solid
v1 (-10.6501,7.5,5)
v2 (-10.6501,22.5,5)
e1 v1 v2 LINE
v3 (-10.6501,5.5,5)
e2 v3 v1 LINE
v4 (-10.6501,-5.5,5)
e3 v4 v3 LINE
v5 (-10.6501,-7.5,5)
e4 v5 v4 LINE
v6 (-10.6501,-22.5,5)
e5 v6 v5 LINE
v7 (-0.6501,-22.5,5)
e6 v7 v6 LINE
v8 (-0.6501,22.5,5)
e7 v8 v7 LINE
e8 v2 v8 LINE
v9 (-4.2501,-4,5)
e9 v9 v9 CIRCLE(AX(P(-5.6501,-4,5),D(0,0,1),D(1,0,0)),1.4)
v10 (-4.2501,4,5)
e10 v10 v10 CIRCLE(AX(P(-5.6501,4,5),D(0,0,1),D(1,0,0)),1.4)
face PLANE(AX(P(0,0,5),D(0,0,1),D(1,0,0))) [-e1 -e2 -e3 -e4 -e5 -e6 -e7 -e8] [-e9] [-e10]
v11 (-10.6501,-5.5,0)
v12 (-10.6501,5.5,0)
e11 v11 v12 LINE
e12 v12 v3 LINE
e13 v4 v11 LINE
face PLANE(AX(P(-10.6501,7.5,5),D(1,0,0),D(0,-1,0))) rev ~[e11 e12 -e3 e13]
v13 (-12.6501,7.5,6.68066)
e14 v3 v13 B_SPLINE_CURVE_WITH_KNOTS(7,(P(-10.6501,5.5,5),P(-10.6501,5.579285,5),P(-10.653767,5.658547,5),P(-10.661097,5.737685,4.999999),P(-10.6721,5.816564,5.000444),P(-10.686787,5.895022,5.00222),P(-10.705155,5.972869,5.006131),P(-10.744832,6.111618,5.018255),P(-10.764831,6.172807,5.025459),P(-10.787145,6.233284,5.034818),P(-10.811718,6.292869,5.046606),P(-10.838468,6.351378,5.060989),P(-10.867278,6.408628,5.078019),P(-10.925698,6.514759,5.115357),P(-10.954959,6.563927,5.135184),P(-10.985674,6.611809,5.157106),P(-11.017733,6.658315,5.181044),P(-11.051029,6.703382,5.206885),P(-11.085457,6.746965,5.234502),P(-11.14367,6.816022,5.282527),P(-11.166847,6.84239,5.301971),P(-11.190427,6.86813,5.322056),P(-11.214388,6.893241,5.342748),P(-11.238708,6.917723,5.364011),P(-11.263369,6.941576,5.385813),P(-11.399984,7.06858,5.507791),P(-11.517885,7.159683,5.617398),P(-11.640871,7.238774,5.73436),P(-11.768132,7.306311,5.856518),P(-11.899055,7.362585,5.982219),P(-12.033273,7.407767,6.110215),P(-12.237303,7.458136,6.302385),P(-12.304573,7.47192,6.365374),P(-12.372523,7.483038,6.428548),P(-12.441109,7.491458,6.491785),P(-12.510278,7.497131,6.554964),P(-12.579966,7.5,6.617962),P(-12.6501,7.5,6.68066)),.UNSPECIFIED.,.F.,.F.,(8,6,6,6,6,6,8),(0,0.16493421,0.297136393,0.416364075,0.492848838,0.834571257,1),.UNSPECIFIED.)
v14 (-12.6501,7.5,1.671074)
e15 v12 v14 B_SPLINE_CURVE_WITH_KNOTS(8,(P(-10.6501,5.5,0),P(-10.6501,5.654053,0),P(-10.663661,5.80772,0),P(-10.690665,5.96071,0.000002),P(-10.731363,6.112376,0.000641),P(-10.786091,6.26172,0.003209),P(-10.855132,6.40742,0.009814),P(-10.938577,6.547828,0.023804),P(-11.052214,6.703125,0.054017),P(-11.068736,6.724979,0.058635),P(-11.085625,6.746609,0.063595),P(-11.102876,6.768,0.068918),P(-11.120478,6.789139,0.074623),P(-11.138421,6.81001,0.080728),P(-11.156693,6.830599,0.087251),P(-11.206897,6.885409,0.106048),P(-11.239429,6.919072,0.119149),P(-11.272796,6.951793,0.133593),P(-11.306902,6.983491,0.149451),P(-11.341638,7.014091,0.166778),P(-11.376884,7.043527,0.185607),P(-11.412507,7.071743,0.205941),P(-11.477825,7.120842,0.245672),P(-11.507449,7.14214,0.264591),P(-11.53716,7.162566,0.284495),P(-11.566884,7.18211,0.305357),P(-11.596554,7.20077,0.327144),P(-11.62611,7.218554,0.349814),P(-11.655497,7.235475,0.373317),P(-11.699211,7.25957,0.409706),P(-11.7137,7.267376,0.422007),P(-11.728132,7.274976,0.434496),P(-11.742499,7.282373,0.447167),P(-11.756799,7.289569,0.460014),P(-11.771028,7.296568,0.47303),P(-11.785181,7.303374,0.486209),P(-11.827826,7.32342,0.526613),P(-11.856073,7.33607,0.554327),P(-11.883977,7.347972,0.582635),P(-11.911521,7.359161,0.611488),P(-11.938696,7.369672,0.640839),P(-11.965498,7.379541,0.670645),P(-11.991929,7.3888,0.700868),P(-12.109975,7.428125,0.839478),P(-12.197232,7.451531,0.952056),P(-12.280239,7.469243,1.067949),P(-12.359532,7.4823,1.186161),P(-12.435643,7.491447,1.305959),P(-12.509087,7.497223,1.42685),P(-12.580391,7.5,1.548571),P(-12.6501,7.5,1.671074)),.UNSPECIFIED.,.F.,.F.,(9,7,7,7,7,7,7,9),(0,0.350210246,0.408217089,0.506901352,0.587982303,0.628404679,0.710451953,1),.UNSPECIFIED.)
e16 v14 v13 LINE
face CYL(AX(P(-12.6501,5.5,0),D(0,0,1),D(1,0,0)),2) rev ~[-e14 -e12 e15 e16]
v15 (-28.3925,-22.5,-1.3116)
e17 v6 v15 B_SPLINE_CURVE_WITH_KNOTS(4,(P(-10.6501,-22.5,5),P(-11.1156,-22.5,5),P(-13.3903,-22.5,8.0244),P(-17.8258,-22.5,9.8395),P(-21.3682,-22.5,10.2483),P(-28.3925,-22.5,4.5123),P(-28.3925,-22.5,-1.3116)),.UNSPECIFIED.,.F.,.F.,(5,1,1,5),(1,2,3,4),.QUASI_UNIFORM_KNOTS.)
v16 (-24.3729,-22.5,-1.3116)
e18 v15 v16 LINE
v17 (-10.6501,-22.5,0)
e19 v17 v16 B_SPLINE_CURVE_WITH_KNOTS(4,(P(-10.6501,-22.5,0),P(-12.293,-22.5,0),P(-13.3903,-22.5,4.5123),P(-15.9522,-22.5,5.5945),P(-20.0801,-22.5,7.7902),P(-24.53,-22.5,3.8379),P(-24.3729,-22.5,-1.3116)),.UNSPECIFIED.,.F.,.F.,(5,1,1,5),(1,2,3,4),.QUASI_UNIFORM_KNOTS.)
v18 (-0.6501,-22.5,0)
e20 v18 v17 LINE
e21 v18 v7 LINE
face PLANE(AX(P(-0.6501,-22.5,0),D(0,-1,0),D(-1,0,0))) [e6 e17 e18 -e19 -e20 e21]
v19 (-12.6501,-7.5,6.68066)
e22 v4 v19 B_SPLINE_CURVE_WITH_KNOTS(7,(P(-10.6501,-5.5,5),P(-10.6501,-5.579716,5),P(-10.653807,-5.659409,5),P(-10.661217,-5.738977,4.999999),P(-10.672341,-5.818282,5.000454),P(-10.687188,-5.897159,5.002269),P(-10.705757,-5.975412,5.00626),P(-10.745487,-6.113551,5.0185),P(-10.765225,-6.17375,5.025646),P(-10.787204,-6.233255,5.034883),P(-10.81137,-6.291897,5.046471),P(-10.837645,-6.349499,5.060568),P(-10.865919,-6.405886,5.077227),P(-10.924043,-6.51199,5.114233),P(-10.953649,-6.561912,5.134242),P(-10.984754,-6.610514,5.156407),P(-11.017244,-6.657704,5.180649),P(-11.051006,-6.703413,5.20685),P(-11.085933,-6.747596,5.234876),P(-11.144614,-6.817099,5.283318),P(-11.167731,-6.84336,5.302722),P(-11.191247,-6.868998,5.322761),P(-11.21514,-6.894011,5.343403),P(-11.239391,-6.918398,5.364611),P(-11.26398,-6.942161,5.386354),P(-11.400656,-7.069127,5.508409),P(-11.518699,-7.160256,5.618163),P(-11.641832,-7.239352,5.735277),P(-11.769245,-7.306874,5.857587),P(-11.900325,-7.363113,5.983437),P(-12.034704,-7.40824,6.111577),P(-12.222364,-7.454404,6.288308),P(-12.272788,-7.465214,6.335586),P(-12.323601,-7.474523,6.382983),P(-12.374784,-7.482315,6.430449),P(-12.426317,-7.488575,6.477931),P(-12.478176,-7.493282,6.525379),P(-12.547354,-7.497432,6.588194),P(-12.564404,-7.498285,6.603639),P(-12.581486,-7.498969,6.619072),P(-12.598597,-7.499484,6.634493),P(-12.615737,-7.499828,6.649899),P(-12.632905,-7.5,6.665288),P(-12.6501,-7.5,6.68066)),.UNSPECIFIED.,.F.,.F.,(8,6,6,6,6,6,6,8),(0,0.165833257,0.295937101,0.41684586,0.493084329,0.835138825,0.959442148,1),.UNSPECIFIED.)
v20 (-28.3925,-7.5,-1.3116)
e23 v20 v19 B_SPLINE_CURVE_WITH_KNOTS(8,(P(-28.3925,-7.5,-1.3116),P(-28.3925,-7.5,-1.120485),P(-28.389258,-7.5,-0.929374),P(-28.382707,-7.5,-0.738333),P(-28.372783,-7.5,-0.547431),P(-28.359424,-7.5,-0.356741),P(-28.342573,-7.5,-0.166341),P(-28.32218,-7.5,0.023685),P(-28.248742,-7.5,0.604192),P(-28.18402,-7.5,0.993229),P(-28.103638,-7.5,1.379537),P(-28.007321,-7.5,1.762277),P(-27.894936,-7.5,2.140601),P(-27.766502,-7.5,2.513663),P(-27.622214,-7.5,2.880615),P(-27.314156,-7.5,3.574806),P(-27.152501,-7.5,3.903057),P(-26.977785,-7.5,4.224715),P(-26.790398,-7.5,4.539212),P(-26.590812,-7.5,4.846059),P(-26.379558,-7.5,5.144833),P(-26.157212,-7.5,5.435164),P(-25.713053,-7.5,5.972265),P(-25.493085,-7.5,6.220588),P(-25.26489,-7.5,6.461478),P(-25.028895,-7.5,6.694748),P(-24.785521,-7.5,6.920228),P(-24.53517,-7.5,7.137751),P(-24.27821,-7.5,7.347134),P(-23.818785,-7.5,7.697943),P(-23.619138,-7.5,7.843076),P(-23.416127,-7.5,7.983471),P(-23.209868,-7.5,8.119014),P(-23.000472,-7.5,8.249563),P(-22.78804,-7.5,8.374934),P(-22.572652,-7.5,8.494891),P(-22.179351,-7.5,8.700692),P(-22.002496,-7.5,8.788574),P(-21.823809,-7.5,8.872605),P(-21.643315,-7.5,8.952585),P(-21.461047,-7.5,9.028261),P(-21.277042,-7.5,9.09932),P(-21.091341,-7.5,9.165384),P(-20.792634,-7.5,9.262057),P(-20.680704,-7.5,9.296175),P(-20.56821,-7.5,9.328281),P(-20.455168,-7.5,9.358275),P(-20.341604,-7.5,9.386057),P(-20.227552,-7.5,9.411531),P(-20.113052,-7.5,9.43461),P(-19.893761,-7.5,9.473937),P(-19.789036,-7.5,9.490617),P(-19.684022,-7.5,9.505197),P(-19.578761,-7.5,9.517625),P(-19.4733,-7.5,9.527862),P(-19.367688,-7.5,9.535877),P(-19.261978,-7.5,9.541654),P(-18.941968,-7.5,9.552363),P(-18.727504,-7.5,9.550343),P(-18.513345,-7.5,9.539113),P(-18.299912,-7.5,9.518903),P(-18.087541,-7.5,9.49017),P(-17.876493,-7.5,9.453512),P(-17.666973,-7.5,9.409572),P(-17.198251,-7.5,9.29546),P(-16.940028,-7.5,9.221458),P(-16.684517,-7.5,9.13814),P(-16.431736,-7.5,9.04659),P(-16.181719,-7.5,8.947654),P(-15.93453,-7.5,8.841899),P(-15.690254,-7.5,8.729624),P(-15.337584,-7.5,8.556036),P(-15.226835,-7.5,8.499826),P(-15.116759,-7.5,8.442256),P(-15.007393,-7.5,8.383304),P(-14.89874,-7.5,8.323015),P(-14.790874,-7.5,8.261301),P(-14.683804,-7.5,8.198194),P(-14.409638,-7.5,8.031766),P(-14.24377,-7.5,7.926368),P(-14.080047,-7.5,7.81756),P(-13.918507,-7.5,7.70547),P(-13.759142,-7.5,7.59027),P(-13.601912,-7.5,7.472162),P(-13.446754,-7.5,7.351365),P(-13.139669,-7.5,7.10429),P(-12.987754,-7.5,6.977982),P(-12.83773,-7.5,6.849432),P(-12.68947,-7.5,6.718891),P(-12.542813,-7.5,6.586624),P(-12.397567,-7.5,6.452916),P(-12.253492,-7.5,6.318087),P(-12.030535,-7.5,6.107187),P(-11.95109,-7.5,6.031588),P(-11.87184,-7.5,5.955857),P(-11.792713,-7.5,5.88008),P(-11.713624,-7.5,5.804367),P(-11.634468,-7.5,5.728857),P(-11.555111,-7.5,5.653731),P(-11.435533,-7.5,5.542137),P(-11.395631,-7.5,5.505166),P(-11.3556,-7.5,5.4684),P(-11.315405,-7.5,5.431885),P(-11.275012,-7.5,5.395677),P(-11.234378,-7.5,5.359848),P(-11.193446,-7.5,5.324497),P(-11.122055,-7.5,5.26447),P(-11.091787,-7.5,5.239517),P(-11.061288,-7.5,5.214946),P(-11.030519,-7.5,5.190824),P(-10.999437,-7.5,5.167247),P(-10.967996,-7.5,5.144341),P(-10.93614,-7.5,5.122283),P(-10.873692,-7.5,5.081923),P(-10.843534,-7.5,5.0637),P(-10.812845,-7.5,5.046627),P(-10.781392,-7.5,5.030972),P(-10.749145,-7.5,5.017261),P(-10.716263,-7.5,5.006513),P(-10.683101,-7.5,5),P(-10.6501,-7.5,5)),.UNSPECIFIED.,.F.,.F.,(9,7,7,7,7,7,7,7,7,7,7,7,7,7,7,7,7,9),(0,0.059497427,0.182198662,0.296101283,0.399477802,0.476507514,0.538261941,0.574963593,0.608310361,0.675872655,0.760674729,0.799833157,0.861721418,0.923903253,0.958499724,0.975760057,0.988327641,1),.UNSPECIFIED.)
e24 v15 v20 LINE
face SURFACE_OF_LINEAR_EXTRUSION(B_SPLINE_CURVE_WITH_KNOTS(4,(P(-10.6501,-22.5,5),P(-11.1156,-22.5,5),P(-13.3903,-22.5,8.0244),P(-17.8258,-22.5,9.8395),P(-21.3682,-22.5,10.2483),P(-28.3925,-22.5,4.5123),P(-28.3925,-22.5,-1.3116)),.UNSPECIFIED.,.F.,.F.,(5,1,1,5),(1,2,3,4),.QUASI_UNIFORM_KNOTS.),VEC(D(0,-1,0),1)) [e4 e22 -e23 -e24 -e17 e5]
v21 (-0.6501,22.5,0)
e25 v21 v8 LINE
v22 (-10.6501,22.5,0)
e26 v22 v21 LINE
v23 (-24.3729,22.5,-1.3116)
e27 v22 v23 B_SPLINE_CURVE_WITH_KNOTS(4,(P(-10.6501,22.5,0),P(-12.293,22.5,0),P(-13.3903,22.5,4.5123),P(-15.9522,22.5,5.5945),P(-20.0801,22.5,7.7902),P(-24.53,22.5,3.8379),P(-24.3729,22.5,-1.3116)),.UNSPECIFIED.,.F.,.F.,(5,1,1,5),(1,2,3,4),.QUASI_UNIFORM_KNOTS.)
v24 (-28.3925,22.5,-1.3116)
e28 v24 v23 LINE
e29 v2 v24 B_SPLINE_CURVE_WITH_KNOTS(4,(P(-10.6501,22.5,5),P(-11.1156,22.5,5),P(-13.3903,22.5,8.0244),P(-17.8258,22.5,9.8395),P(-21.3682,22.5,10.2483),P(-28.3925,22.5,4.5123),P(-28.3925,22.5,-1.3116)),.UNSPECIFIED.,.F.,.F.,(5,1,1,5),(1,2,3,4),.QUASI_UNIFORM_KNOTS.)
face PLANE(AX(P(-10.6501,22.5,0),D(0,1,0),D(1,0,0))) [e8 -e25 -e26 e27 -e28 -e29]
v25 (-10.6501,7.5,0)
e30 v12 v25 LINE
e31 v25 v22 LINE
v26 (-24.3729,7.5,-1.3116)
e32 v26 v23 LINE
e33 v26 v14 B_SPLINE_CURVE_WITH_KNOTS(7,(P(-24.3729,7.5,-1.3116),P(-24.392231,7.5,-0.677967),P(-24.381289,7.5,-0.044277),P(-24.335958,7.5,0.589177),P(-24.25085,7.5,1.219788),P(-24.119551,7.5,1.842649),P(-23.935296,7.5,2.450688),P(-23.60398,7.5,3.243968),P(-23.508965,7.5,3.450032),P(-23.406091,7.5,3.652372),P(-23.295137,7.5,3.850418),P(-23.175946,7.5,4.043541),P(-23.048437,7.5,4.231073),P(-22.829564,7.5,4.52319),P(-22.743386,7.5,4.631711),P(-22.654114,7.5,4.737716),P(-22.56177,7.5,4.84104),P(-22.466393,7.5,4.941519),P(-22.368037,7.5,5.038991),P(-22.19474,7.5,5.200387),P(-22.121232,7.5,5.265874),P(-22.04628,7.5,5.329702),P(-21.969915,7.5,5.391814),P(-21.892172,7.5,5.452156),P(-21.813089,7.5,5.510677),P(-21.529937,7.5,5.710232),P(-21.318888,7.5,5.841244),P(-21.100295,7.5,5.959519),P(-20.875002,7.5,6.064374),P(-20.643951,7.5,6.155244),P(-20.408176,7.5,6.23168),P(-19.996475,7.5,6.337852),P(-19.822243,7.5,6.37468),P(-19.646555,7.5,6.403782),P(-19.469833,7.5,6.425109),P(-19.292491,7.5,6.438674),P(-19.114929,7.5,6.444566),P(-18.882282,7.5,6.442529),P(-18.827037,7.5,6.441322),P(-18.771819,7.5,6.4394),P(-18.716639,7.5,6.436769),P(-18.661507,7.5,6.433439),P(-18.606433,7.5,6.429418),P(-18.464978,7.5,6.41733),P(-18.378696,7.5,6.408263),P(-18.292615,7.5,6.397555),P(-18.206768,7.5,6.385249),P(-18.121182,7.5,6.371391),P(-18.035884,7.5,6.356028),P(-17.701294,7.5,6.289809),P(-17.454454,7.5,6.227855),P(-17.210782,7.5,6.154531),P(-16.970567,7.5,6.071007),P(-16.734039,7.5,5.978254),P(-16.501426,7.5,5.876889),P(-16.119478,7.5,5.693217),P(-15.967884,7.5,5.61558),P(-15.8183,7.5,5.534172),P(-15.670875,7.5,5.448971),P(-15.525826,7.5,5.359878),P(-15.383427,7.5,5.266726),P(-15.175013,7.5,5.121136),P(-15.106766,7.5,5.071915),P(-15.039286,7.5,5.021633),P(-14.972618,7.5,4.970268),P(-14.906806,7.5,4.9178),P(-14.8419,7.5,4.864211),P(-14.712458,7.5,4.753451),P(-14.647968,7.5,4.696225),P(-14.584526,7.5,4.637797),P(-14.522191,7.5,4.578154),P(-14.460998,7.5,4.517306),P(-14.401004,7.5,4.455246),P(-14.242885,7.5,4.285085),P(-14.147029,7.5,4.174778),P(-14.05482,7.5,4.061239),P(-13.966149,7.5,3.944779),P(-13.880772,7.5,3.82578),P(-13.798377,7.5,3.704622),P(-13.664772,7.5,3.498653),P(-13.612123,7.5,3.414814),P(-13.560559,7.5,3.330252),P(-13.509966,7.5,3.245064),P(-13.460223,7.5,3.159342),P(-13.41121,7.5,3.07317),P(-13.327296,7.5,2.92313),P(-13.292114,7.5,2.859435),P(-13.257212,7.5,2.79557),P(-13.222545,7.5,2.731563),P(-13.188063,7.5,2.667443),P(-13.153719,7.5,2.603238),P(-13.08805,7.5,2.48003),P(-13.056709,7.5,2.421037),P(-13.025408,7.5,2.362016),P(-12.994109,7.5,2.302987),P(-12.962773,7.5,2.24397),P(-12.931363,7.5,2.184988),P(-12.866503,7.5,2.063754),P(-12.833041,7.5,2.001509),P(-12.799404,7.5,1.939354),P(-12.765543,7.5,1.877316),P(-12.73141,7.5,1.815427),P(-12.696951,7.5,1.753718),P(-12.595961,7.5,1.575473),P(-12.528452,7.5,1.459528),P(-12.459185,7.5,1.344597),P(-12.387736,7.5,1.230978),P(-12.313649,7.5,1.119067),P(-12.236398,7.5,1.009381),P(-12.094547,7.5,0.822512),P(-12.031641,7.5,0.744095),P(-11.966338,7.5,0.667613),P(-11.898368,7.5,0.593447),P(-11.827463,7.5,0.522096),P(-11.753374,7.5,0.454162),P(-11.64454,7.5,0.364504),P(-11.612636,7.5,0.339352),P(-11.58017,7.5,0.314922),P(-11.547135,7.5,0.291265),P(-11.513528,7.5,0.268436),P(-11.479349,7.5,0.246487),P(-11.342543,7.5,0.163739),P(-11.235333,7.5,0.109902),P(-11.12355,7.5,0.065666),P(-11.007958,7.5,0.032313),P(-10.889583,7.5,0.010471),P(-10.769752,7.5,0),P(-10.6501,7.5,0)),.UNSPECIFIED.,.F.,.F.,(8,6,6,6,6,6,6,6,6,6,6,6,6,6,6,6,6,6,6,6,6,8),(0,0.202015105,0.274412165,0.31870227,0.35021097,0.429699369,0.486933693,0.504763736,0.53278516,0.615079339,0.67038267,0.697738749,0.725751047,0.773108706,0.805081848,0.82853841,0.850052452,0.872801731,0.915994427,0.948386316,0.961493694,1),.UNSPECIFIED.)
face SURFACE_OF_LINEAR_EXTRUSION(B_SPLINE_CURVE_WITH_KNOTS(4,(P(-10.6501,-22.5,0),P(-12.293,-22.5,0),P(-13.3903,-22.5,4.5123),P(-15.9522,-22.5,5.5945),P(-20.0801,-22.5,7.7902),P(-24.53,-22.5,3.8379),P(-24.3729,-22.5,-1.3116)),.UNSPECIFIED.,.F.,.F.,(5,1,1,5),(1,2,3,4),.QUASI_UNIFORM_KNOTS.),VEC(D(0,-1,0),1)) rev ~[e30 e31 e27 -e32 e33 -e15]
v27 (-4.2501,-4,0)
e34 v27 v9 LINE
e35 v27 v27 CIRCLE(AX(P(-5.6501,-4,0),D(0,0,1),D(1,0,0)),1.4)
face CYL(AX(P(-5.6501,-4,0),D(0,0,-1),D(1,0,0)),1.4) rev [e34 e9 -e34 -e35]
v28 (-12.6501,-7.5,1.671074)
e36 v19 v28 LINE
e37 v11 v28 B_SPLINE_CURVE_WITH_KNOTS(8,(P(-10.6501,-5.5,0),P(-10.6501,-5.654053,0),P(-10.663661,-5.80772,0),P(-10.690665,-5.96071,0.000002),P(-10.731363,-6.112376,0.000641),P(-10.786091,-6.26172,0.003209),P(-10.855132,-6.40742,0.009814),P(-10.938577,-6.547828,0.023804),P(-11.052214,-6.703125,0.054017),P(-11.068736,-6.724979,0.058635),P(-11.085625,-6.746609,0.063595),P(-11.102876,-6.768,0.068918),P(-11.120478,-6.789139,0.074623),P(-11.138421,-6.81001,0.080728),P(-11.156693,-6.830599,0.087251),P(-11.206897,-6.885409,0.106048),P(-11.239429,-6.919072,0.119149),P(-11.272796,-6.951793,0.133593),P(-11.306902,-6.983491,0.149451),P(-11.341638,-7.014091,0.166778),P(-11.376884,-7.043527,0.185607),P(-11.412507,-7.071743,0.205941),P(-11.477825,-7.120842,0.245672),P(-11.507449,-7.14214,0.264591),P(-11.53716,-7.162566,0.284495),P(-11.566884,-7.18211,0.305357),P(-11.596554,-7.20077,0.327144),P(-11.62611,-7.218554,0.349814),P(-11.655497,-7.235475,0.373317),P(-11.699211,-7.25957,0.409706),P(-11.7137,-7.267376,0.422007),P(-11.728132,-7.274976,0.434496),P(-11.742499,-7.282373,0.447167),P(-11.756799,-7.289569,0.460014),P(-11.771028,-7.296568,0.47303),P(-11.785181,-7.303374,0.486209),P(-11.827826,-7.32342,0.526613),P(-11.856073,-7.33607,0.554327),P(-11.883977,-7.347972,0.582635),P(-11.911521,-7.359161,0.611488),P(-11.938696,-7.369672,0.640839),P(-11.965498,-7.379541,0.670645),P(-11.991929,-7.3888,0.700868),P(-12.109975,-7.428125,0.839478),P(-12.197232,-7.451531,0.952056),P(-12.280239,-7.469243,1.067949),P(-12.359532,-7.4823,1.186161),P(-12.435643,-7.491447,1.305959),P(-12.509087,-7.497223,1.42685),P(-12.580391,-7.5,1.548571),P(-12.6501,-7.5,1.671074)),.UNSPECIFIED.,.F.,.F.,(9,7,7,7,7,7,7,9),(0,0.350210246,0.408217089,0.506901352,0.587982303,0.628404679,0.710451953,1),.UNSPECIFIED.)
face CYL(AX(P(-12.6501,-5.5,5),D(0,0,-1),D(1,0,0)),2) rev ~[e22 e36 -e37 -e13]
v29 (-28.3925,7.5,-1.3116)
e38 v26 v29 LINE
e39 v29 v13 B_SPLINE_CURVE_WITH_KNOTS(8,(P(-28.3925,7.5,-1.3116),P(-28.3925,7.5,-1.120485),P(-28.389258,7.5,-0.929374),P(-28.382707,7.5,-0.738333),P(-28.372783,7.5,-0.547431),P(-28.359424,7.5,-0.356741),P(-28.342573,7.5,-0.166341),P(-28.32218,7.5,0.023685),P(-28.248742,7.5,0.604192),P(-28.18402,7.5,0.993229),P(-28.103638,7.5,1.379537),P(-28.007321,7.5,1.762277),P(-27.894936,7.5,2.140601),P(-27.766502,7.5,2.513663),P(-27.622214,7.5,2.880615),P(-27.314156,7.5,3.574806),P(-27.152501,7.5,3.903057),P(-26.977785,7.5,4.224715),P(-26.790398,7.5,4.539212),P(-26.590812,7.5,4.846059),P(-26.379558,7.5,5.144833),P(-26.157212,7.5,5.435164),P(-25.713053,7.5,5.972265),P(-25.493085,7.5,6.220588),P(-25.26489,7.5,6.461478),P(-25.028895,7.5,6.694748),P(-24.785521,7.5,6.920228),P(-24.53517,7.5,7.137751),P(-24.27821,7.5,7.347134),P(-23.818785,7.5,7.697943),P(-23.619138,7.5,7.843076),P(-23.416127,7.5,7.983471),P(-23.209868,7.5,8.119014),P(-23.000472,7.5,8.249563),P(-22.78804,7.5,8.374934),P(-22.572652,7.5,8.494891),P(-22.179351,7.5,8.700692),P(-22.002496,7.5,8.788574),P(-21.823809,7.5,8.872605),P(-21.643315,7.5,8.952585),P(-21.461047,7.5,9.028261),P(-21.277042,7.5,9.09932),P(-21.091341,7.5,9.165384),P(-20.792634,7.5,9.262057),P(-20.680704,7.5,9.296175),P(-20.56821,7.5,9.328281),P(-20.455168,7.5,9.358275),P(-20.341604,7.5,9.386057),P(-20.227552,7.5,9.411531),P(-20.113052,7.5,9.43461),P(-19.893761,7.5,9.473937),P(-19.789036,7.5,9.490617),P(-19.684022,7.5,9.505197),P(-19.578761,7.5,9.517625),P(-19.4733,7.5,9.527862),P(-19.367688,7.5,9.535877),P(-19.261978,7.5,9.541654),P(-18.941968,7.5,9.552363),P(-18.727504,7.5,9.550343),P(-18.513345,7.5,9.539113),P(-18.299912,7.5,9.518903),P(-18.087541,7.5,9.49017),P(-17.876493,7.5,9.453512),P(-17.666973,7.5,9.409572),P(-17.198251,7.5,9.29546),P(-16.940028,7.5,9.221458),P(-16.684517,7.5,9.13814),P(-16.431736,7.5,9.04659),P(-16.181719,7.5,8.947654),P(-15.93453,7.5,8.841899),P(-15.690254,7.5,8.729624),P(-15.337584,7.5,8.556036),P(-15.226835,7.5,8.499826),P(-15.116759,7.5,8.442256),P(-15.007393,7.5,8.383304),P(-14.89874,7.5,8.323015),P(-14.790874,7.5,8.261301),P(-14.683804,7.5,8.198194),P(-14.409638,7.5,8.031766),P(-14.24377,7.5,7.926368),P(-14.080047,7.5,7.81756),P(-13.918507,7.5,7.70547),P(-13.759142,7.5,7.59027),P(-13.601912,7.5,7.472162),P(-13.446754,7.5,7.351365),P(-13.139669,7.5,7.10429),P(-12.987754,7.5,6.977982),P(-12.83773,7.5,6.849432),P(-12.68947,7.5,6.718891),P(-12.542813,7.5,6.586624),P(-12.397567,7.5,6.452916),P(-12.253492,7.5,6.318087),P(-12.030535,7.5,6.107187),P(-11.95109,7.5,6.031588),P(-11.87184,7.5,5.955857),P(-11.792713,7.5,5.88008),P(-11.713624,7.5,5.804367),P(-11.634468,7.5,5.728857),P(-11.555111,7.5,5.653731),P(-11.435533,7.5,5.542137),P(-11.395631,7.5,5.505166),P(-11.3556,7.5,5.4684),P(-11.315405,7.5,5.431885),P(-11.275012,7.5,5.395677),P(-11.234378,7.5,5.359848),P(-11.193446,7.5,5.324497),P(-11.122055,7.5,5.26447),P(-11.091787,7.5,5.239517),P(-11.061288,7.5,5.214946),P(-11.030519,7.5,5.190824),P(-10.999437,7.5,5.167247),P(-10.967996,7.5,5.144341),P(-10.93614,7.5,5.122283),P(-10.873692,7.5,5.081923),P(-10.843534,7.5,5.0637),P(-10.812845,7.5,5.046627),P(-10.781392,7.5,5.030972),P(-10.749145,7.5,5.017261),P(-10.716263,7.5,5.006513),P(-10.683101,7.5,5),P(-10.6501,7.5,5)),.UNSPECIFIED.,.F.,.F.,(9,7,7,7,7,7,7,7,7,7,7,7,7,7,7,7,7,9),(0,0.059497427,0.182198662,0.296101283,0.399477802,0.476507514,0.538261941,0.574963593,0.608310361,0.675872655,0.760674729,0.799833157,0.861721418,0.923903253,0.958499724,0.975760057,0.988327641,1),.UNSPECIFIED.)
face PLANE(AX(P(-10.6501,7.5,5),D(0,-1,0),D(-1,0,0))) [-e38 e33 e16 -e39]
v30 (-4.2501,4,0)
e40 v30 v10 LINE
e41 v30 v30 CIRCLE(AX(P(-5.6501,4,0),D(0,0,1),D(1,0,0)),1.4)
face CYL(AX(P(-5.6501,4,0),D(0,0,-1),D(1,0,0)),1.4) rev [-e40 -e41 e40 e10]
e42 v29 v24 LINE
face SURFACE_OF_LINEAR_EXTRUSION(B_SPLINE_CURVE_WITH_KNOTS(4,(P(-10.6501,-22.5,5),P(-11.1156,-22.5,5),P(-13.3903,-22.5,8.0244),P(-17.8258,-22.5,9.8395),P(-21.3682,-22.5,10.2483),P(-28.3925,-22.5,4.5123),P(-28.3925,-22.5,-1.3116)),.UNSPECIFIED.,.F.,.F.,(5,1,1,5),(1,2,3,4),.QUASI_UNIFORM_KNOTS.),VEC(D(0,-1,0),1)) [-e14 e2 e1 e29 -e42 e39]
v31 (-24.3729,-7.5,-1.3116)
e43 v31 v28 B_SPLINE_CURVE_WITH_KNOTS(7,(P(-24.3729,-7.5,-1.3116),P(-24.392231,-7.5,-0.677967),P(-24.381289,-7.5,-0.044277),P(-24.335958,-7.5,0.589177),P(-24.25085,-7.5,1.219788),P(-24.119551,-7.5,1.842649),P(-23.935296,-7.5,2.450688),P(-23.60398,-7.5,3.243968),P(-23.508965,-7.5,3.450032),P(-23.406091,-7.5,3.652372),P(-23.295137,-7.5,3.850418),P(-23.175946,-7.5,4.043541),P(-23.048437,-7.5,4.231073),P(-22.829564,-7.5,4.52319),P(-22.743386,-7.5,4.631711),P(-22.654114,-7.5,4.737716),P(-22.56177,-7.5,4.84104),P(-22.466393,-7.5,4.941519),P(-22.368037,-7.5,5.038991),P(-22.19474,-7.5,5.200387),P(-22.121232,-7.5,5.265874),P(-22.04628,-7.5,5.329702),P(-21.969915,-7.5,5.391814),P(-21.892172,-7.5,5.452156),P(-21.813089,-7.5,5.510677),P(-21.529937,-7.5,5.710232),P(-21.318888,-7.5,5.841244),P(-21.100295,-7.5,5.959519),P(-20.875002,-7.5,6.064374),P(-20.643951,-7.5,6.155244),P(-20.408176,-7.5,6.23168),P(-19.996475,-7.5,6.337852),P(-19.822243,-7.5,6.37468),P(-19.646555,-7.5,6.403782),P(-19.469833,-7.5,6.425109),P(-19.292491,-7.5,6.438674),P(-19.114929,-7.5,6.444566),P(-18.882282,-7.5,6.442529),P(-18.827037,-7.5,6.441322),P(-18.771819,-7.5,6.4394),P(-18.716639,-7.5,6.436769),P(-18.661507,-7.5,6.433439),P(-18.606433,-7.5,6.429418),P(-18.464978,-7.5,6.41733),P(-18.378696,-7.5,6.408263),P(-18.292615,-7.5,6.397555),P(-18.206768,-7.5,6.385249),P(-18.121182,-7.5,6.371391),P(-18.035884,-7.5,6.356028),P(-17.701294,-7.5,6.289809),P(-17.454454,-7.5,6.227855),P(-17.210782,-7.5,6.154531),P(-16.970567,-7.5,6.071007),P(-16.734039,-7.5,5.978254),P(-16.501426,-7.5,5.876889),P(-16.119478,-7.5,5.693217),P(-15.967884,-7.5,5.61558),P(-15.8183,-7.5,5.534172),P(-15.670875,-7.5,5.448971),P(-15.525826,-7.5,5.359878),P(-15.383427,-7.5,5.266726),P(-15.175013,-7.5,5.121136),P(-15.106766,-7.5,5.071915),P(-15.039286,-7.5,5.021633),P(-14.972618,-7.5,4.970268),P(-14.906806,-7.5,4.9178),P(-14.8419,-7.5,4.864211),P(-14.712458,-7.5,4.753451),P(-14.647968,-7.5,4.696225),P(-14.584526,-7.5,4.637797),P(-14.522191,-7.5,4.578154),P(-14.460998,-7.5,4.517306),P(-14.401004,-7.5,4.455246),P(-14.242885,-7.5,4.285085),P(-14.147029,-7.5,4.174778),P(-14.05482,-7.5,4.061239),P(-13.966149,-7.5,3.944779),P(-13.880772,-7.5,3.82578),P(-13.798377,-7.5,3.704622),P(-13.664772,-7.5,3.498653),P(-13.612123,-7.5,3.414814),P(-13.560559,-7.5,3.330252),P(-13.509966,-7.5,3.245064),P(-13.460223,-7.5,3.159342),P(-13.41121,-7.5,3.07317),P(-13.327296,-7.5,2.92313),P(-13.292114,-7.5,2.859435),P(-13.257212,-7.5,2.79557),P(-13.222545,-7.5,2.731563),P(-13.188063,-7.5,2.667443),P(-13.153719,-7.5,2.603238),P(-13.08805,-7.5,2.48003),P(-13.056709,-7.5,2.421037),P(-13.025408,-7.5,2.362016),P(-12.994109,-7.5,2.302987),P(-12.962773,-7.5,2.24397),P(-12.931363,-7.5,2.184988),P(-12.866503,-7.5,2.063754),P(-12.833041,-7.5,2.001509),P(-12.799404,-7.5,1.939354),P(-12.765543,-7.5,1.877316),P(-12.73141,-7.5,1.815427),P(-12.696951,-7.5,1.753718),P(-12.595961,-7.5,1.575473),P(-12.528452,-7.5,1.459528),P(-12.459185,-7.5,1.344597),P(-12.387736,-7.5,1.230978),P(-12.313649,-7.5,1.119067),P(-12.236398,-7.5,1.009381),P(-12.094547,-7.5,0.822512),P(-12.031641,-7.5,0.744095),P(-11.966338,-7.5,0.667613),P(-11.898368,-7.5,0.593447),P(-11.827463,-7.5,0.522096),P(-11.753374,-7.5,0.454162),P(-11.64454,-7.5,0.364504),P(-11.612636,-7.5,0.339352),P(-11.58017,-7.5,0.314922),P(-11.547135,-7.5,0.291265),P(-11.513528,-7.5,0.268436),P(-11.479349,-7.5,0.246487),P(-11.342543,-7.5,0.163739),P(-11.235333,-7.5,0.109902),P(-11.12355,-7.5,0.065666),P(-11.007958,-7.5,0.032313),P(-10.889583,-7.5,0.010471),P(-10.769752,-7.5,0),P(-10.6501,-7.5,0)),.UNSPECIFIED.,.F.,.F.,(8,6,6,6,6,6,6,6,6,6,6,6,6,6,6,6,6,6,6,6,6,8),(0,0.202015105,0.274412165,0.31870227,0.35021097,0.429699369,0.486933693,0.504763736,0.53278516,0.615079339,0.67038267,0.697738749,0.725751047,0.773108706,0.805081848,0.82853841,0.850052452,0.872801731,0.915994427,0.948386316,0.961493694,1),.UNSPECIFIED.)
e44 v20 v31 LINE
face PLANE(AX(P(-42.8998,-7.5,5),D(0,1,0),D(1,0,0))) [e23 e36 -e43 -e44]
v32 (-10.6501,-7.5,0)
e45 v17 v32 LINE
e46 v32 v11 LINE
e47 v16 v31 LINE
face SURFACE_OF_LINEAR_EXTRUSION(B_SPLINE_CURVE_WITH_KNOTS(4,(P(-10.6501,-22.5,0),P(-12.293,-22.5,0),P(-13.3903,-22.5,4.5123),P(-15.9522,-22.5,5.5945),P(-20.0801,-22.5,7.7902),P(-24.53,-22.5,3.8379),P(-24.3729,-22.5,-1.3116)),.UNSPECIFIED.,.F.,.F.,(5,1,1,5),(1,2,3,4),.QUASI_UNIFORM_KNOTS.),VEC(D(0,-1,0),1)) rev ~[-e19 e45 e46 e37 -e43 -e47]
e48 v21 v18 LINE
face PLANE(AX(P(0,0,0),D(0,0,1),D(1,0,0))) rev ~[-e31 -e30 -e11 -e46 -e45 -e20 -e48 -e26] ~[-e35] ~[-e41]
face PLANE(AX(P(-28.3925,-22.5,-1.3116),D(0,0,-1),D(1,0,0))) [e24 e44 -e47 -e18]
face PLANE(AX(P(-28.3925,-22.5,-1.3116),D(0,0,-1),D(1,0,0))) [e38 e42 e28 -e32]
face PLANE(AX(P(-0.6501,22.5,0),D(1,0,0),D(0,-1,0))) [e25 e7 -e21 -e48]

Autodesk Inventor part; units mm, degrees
ref_plane "YZ Plane" through (0, 0, 0) normal (1, 0, 0) x (0, 1, 0)
ref_plane "XZ Plane" through (0, 0, 0) normal (0, 1, 0) x (-1, 0, 0)
ref_plane "XY Plane" through (0, 0, 0) normal (0, 0, 1) x (1, 0, 0)
sketch "Skizze1" plane through (0, 0, 0) normal (0, 0, 1) x (1, 0, 0)
  circle A0 centre (-16.6663, 54.3) radius 1.65 projected
  circle A1 centre (-5.6501, 4) radius 1.4 projected
  circle A2 centre (-5.6501, -4) radius 1.4 projected
  circle A3 centre (-16.9417, 18.1) radius 1.65 projected
  line L0 (-0.6501, -22.5) -> (-10.6501, -22.5)
  line L1 (-10.6501, -22.5) -> (-10.6501, 22.5)
  line L2 (-10.6501, 22.5) -> (-0.6501, 22.5)
  line L3 (-0.6501, 22.5) -> (-0.6501, -22.5)
  line L4 (-0.6501, -22.5) -> (-10.6501, 22.5) construction
  line L5 (-10.6501, -22.5) -> (-0.6501, 22.5) construction
  point P0 (0, 0)
  point P1 (-5.6501, 0)
  dimension "d0" = 10
  dimension "d1" = 45
extrude "Extrusion1" add sketch "Skizze1" along normal blind 5 contours L0 L1 L2 L3
sketch "Skizze2" plane through (-10.6501, -22.5, 0) normal (0, -1, 0) x (1, 0, 0)
  line L0 (0, 0) -> (10, 0) projected
  line L1 (10, 0) -> (10, 5) projected
  line L2 (0, 5) -> (10, 5) projected
  line L3 (0, 0) -> (0, 5) projected
  line L4 (0, 0) -> (-1.6429, 0) construction
  line L5 (-1.6429, 0) -> (-2.7402, 4.5123) construction
  line L6 (-2.7402, 4.5123) -> (-5.3021, 5.5945) construction
  line L7 (-5.3021, 5.5945) -> (-9.43, 7.7902) construction
  line L8 (-9.43, 7.7902) -> (-13.8799, 3.8379) construction
  line L9 (-13.8799, 3.8379) -> (-13.7228, -1.3116) construction
  spline S0 degree 4 poles (0, 0) (-1.6429, 0) (-2.7402, 4.5123) (-5.3021, 5.5945) (-9.43, 7.7902) (-13.8799, 3.8379) (-13.7228, -1.3116) knots 1 1 1 1 1 2 3 4 4 4 4 4
  line L10 (0, 5) -> (-0.4655, 5) construction
  line L11 (-0.4655, 5) -> (-2.7402, 8.0244) construction
  line L12 (-2.7402, 8.0244) -> (-7.1757, 9.8395) construction
  line L13 (-7.1757, 9.8395) -> (-10.7181, 10.2483) construction
  line L14 (-10.7181, 10.2483) -> (-17.7424, 4.5123) construction
  line L15 (-17.7424, 4.5123) -> (-17.7424, -1.3116) construction
  spline S1 degree 4 poles (0, 5) (-0.4655, 5) (-2.7402, 8.0244) (-7.1757, 9.8395) (-10.7181, 10.2483) (-17.7424, 4.5123) (-17.7424, -1.3116) knots 1 1 1 1 1 2 3 4 4 4 4 4
  line L16 (-17.7424, -1.3116) -> (-13.7228, -1.3116)
  point P0 (10.6501, 0)
extrude "Extrusion2" add sketch "Skizze2" against normal up to surface (45 mm away) contours S0 L16 S1 L3
sketch "Skizze3" plane through (0, 0, 5) normal (0, 0, 1) x (1, 0, 0)
  line L0 (-0.6501, 22.5) -> (-10.6501, 22.5) projected
  line L1 (-10.6501, 22.5) -> (-10.6501, -22.5) projected
  line L2 (-10.6501, -22.5) -> (-0.6501, -22.5) projected
  line L3 (-0.6501, -22.5) -> (-0.6501, 22.5) projected
  circle A0 centre (-5.6501, -4) radius 1.4 projected
  circle A1 centre (-5.6501, 4) radius 1.4 projected
  line L4 (-42.8998, -7.5) -> (-10.6501, -7.5)
  line L5 (-10.6501, -7.5) -> (-10.6501, 7.5)
  line L6 (-10.6501, 7.5) -> (-42.8998, 7.5)
  line L7 (-42.8998, 7.5) -> (-42.8998, -7.5)
  line L8 (-42.8998, -7.5) -> (-10.6501, 7.5) construction
  line L9 (-10.6501, -7.5) -> (-42.8998, 7.5) construction
  line L10 (-10.6501, 22.5) -> (-42.8998, 7.5)
  line L11 (-42.8998, -7.5) -> (-10.6501, -22.5)
  line L12 (-42.8998, 22.5) -> (-10.6501, 22.5)
  line L13 (-10.6501, 22.5) -> (-10.6501, -22.5)
  line L14 (-10.6501, -22.5) -> (-42.8998, -22.5)
  line L15 (-42.8998, -22.5) -> (-42.8998, 22.5)
  point P0 (0, 0)
  point P1 (-26.775, 0)
  point P2 (-10.6501, -7.5)
  dimension "d6" = 15
extrude "Extrusion3" cut sketch "Skizze3" along normal through all both and the other way through all contours L1 L4 L7 L6
fillet "Rundung1" radius 2 2 edges at (-10.6501, 7.5, 2.5) (-10.6501, -7.5, 2.5)
properties part number "60_Planktoscope_Sampleclamp"
